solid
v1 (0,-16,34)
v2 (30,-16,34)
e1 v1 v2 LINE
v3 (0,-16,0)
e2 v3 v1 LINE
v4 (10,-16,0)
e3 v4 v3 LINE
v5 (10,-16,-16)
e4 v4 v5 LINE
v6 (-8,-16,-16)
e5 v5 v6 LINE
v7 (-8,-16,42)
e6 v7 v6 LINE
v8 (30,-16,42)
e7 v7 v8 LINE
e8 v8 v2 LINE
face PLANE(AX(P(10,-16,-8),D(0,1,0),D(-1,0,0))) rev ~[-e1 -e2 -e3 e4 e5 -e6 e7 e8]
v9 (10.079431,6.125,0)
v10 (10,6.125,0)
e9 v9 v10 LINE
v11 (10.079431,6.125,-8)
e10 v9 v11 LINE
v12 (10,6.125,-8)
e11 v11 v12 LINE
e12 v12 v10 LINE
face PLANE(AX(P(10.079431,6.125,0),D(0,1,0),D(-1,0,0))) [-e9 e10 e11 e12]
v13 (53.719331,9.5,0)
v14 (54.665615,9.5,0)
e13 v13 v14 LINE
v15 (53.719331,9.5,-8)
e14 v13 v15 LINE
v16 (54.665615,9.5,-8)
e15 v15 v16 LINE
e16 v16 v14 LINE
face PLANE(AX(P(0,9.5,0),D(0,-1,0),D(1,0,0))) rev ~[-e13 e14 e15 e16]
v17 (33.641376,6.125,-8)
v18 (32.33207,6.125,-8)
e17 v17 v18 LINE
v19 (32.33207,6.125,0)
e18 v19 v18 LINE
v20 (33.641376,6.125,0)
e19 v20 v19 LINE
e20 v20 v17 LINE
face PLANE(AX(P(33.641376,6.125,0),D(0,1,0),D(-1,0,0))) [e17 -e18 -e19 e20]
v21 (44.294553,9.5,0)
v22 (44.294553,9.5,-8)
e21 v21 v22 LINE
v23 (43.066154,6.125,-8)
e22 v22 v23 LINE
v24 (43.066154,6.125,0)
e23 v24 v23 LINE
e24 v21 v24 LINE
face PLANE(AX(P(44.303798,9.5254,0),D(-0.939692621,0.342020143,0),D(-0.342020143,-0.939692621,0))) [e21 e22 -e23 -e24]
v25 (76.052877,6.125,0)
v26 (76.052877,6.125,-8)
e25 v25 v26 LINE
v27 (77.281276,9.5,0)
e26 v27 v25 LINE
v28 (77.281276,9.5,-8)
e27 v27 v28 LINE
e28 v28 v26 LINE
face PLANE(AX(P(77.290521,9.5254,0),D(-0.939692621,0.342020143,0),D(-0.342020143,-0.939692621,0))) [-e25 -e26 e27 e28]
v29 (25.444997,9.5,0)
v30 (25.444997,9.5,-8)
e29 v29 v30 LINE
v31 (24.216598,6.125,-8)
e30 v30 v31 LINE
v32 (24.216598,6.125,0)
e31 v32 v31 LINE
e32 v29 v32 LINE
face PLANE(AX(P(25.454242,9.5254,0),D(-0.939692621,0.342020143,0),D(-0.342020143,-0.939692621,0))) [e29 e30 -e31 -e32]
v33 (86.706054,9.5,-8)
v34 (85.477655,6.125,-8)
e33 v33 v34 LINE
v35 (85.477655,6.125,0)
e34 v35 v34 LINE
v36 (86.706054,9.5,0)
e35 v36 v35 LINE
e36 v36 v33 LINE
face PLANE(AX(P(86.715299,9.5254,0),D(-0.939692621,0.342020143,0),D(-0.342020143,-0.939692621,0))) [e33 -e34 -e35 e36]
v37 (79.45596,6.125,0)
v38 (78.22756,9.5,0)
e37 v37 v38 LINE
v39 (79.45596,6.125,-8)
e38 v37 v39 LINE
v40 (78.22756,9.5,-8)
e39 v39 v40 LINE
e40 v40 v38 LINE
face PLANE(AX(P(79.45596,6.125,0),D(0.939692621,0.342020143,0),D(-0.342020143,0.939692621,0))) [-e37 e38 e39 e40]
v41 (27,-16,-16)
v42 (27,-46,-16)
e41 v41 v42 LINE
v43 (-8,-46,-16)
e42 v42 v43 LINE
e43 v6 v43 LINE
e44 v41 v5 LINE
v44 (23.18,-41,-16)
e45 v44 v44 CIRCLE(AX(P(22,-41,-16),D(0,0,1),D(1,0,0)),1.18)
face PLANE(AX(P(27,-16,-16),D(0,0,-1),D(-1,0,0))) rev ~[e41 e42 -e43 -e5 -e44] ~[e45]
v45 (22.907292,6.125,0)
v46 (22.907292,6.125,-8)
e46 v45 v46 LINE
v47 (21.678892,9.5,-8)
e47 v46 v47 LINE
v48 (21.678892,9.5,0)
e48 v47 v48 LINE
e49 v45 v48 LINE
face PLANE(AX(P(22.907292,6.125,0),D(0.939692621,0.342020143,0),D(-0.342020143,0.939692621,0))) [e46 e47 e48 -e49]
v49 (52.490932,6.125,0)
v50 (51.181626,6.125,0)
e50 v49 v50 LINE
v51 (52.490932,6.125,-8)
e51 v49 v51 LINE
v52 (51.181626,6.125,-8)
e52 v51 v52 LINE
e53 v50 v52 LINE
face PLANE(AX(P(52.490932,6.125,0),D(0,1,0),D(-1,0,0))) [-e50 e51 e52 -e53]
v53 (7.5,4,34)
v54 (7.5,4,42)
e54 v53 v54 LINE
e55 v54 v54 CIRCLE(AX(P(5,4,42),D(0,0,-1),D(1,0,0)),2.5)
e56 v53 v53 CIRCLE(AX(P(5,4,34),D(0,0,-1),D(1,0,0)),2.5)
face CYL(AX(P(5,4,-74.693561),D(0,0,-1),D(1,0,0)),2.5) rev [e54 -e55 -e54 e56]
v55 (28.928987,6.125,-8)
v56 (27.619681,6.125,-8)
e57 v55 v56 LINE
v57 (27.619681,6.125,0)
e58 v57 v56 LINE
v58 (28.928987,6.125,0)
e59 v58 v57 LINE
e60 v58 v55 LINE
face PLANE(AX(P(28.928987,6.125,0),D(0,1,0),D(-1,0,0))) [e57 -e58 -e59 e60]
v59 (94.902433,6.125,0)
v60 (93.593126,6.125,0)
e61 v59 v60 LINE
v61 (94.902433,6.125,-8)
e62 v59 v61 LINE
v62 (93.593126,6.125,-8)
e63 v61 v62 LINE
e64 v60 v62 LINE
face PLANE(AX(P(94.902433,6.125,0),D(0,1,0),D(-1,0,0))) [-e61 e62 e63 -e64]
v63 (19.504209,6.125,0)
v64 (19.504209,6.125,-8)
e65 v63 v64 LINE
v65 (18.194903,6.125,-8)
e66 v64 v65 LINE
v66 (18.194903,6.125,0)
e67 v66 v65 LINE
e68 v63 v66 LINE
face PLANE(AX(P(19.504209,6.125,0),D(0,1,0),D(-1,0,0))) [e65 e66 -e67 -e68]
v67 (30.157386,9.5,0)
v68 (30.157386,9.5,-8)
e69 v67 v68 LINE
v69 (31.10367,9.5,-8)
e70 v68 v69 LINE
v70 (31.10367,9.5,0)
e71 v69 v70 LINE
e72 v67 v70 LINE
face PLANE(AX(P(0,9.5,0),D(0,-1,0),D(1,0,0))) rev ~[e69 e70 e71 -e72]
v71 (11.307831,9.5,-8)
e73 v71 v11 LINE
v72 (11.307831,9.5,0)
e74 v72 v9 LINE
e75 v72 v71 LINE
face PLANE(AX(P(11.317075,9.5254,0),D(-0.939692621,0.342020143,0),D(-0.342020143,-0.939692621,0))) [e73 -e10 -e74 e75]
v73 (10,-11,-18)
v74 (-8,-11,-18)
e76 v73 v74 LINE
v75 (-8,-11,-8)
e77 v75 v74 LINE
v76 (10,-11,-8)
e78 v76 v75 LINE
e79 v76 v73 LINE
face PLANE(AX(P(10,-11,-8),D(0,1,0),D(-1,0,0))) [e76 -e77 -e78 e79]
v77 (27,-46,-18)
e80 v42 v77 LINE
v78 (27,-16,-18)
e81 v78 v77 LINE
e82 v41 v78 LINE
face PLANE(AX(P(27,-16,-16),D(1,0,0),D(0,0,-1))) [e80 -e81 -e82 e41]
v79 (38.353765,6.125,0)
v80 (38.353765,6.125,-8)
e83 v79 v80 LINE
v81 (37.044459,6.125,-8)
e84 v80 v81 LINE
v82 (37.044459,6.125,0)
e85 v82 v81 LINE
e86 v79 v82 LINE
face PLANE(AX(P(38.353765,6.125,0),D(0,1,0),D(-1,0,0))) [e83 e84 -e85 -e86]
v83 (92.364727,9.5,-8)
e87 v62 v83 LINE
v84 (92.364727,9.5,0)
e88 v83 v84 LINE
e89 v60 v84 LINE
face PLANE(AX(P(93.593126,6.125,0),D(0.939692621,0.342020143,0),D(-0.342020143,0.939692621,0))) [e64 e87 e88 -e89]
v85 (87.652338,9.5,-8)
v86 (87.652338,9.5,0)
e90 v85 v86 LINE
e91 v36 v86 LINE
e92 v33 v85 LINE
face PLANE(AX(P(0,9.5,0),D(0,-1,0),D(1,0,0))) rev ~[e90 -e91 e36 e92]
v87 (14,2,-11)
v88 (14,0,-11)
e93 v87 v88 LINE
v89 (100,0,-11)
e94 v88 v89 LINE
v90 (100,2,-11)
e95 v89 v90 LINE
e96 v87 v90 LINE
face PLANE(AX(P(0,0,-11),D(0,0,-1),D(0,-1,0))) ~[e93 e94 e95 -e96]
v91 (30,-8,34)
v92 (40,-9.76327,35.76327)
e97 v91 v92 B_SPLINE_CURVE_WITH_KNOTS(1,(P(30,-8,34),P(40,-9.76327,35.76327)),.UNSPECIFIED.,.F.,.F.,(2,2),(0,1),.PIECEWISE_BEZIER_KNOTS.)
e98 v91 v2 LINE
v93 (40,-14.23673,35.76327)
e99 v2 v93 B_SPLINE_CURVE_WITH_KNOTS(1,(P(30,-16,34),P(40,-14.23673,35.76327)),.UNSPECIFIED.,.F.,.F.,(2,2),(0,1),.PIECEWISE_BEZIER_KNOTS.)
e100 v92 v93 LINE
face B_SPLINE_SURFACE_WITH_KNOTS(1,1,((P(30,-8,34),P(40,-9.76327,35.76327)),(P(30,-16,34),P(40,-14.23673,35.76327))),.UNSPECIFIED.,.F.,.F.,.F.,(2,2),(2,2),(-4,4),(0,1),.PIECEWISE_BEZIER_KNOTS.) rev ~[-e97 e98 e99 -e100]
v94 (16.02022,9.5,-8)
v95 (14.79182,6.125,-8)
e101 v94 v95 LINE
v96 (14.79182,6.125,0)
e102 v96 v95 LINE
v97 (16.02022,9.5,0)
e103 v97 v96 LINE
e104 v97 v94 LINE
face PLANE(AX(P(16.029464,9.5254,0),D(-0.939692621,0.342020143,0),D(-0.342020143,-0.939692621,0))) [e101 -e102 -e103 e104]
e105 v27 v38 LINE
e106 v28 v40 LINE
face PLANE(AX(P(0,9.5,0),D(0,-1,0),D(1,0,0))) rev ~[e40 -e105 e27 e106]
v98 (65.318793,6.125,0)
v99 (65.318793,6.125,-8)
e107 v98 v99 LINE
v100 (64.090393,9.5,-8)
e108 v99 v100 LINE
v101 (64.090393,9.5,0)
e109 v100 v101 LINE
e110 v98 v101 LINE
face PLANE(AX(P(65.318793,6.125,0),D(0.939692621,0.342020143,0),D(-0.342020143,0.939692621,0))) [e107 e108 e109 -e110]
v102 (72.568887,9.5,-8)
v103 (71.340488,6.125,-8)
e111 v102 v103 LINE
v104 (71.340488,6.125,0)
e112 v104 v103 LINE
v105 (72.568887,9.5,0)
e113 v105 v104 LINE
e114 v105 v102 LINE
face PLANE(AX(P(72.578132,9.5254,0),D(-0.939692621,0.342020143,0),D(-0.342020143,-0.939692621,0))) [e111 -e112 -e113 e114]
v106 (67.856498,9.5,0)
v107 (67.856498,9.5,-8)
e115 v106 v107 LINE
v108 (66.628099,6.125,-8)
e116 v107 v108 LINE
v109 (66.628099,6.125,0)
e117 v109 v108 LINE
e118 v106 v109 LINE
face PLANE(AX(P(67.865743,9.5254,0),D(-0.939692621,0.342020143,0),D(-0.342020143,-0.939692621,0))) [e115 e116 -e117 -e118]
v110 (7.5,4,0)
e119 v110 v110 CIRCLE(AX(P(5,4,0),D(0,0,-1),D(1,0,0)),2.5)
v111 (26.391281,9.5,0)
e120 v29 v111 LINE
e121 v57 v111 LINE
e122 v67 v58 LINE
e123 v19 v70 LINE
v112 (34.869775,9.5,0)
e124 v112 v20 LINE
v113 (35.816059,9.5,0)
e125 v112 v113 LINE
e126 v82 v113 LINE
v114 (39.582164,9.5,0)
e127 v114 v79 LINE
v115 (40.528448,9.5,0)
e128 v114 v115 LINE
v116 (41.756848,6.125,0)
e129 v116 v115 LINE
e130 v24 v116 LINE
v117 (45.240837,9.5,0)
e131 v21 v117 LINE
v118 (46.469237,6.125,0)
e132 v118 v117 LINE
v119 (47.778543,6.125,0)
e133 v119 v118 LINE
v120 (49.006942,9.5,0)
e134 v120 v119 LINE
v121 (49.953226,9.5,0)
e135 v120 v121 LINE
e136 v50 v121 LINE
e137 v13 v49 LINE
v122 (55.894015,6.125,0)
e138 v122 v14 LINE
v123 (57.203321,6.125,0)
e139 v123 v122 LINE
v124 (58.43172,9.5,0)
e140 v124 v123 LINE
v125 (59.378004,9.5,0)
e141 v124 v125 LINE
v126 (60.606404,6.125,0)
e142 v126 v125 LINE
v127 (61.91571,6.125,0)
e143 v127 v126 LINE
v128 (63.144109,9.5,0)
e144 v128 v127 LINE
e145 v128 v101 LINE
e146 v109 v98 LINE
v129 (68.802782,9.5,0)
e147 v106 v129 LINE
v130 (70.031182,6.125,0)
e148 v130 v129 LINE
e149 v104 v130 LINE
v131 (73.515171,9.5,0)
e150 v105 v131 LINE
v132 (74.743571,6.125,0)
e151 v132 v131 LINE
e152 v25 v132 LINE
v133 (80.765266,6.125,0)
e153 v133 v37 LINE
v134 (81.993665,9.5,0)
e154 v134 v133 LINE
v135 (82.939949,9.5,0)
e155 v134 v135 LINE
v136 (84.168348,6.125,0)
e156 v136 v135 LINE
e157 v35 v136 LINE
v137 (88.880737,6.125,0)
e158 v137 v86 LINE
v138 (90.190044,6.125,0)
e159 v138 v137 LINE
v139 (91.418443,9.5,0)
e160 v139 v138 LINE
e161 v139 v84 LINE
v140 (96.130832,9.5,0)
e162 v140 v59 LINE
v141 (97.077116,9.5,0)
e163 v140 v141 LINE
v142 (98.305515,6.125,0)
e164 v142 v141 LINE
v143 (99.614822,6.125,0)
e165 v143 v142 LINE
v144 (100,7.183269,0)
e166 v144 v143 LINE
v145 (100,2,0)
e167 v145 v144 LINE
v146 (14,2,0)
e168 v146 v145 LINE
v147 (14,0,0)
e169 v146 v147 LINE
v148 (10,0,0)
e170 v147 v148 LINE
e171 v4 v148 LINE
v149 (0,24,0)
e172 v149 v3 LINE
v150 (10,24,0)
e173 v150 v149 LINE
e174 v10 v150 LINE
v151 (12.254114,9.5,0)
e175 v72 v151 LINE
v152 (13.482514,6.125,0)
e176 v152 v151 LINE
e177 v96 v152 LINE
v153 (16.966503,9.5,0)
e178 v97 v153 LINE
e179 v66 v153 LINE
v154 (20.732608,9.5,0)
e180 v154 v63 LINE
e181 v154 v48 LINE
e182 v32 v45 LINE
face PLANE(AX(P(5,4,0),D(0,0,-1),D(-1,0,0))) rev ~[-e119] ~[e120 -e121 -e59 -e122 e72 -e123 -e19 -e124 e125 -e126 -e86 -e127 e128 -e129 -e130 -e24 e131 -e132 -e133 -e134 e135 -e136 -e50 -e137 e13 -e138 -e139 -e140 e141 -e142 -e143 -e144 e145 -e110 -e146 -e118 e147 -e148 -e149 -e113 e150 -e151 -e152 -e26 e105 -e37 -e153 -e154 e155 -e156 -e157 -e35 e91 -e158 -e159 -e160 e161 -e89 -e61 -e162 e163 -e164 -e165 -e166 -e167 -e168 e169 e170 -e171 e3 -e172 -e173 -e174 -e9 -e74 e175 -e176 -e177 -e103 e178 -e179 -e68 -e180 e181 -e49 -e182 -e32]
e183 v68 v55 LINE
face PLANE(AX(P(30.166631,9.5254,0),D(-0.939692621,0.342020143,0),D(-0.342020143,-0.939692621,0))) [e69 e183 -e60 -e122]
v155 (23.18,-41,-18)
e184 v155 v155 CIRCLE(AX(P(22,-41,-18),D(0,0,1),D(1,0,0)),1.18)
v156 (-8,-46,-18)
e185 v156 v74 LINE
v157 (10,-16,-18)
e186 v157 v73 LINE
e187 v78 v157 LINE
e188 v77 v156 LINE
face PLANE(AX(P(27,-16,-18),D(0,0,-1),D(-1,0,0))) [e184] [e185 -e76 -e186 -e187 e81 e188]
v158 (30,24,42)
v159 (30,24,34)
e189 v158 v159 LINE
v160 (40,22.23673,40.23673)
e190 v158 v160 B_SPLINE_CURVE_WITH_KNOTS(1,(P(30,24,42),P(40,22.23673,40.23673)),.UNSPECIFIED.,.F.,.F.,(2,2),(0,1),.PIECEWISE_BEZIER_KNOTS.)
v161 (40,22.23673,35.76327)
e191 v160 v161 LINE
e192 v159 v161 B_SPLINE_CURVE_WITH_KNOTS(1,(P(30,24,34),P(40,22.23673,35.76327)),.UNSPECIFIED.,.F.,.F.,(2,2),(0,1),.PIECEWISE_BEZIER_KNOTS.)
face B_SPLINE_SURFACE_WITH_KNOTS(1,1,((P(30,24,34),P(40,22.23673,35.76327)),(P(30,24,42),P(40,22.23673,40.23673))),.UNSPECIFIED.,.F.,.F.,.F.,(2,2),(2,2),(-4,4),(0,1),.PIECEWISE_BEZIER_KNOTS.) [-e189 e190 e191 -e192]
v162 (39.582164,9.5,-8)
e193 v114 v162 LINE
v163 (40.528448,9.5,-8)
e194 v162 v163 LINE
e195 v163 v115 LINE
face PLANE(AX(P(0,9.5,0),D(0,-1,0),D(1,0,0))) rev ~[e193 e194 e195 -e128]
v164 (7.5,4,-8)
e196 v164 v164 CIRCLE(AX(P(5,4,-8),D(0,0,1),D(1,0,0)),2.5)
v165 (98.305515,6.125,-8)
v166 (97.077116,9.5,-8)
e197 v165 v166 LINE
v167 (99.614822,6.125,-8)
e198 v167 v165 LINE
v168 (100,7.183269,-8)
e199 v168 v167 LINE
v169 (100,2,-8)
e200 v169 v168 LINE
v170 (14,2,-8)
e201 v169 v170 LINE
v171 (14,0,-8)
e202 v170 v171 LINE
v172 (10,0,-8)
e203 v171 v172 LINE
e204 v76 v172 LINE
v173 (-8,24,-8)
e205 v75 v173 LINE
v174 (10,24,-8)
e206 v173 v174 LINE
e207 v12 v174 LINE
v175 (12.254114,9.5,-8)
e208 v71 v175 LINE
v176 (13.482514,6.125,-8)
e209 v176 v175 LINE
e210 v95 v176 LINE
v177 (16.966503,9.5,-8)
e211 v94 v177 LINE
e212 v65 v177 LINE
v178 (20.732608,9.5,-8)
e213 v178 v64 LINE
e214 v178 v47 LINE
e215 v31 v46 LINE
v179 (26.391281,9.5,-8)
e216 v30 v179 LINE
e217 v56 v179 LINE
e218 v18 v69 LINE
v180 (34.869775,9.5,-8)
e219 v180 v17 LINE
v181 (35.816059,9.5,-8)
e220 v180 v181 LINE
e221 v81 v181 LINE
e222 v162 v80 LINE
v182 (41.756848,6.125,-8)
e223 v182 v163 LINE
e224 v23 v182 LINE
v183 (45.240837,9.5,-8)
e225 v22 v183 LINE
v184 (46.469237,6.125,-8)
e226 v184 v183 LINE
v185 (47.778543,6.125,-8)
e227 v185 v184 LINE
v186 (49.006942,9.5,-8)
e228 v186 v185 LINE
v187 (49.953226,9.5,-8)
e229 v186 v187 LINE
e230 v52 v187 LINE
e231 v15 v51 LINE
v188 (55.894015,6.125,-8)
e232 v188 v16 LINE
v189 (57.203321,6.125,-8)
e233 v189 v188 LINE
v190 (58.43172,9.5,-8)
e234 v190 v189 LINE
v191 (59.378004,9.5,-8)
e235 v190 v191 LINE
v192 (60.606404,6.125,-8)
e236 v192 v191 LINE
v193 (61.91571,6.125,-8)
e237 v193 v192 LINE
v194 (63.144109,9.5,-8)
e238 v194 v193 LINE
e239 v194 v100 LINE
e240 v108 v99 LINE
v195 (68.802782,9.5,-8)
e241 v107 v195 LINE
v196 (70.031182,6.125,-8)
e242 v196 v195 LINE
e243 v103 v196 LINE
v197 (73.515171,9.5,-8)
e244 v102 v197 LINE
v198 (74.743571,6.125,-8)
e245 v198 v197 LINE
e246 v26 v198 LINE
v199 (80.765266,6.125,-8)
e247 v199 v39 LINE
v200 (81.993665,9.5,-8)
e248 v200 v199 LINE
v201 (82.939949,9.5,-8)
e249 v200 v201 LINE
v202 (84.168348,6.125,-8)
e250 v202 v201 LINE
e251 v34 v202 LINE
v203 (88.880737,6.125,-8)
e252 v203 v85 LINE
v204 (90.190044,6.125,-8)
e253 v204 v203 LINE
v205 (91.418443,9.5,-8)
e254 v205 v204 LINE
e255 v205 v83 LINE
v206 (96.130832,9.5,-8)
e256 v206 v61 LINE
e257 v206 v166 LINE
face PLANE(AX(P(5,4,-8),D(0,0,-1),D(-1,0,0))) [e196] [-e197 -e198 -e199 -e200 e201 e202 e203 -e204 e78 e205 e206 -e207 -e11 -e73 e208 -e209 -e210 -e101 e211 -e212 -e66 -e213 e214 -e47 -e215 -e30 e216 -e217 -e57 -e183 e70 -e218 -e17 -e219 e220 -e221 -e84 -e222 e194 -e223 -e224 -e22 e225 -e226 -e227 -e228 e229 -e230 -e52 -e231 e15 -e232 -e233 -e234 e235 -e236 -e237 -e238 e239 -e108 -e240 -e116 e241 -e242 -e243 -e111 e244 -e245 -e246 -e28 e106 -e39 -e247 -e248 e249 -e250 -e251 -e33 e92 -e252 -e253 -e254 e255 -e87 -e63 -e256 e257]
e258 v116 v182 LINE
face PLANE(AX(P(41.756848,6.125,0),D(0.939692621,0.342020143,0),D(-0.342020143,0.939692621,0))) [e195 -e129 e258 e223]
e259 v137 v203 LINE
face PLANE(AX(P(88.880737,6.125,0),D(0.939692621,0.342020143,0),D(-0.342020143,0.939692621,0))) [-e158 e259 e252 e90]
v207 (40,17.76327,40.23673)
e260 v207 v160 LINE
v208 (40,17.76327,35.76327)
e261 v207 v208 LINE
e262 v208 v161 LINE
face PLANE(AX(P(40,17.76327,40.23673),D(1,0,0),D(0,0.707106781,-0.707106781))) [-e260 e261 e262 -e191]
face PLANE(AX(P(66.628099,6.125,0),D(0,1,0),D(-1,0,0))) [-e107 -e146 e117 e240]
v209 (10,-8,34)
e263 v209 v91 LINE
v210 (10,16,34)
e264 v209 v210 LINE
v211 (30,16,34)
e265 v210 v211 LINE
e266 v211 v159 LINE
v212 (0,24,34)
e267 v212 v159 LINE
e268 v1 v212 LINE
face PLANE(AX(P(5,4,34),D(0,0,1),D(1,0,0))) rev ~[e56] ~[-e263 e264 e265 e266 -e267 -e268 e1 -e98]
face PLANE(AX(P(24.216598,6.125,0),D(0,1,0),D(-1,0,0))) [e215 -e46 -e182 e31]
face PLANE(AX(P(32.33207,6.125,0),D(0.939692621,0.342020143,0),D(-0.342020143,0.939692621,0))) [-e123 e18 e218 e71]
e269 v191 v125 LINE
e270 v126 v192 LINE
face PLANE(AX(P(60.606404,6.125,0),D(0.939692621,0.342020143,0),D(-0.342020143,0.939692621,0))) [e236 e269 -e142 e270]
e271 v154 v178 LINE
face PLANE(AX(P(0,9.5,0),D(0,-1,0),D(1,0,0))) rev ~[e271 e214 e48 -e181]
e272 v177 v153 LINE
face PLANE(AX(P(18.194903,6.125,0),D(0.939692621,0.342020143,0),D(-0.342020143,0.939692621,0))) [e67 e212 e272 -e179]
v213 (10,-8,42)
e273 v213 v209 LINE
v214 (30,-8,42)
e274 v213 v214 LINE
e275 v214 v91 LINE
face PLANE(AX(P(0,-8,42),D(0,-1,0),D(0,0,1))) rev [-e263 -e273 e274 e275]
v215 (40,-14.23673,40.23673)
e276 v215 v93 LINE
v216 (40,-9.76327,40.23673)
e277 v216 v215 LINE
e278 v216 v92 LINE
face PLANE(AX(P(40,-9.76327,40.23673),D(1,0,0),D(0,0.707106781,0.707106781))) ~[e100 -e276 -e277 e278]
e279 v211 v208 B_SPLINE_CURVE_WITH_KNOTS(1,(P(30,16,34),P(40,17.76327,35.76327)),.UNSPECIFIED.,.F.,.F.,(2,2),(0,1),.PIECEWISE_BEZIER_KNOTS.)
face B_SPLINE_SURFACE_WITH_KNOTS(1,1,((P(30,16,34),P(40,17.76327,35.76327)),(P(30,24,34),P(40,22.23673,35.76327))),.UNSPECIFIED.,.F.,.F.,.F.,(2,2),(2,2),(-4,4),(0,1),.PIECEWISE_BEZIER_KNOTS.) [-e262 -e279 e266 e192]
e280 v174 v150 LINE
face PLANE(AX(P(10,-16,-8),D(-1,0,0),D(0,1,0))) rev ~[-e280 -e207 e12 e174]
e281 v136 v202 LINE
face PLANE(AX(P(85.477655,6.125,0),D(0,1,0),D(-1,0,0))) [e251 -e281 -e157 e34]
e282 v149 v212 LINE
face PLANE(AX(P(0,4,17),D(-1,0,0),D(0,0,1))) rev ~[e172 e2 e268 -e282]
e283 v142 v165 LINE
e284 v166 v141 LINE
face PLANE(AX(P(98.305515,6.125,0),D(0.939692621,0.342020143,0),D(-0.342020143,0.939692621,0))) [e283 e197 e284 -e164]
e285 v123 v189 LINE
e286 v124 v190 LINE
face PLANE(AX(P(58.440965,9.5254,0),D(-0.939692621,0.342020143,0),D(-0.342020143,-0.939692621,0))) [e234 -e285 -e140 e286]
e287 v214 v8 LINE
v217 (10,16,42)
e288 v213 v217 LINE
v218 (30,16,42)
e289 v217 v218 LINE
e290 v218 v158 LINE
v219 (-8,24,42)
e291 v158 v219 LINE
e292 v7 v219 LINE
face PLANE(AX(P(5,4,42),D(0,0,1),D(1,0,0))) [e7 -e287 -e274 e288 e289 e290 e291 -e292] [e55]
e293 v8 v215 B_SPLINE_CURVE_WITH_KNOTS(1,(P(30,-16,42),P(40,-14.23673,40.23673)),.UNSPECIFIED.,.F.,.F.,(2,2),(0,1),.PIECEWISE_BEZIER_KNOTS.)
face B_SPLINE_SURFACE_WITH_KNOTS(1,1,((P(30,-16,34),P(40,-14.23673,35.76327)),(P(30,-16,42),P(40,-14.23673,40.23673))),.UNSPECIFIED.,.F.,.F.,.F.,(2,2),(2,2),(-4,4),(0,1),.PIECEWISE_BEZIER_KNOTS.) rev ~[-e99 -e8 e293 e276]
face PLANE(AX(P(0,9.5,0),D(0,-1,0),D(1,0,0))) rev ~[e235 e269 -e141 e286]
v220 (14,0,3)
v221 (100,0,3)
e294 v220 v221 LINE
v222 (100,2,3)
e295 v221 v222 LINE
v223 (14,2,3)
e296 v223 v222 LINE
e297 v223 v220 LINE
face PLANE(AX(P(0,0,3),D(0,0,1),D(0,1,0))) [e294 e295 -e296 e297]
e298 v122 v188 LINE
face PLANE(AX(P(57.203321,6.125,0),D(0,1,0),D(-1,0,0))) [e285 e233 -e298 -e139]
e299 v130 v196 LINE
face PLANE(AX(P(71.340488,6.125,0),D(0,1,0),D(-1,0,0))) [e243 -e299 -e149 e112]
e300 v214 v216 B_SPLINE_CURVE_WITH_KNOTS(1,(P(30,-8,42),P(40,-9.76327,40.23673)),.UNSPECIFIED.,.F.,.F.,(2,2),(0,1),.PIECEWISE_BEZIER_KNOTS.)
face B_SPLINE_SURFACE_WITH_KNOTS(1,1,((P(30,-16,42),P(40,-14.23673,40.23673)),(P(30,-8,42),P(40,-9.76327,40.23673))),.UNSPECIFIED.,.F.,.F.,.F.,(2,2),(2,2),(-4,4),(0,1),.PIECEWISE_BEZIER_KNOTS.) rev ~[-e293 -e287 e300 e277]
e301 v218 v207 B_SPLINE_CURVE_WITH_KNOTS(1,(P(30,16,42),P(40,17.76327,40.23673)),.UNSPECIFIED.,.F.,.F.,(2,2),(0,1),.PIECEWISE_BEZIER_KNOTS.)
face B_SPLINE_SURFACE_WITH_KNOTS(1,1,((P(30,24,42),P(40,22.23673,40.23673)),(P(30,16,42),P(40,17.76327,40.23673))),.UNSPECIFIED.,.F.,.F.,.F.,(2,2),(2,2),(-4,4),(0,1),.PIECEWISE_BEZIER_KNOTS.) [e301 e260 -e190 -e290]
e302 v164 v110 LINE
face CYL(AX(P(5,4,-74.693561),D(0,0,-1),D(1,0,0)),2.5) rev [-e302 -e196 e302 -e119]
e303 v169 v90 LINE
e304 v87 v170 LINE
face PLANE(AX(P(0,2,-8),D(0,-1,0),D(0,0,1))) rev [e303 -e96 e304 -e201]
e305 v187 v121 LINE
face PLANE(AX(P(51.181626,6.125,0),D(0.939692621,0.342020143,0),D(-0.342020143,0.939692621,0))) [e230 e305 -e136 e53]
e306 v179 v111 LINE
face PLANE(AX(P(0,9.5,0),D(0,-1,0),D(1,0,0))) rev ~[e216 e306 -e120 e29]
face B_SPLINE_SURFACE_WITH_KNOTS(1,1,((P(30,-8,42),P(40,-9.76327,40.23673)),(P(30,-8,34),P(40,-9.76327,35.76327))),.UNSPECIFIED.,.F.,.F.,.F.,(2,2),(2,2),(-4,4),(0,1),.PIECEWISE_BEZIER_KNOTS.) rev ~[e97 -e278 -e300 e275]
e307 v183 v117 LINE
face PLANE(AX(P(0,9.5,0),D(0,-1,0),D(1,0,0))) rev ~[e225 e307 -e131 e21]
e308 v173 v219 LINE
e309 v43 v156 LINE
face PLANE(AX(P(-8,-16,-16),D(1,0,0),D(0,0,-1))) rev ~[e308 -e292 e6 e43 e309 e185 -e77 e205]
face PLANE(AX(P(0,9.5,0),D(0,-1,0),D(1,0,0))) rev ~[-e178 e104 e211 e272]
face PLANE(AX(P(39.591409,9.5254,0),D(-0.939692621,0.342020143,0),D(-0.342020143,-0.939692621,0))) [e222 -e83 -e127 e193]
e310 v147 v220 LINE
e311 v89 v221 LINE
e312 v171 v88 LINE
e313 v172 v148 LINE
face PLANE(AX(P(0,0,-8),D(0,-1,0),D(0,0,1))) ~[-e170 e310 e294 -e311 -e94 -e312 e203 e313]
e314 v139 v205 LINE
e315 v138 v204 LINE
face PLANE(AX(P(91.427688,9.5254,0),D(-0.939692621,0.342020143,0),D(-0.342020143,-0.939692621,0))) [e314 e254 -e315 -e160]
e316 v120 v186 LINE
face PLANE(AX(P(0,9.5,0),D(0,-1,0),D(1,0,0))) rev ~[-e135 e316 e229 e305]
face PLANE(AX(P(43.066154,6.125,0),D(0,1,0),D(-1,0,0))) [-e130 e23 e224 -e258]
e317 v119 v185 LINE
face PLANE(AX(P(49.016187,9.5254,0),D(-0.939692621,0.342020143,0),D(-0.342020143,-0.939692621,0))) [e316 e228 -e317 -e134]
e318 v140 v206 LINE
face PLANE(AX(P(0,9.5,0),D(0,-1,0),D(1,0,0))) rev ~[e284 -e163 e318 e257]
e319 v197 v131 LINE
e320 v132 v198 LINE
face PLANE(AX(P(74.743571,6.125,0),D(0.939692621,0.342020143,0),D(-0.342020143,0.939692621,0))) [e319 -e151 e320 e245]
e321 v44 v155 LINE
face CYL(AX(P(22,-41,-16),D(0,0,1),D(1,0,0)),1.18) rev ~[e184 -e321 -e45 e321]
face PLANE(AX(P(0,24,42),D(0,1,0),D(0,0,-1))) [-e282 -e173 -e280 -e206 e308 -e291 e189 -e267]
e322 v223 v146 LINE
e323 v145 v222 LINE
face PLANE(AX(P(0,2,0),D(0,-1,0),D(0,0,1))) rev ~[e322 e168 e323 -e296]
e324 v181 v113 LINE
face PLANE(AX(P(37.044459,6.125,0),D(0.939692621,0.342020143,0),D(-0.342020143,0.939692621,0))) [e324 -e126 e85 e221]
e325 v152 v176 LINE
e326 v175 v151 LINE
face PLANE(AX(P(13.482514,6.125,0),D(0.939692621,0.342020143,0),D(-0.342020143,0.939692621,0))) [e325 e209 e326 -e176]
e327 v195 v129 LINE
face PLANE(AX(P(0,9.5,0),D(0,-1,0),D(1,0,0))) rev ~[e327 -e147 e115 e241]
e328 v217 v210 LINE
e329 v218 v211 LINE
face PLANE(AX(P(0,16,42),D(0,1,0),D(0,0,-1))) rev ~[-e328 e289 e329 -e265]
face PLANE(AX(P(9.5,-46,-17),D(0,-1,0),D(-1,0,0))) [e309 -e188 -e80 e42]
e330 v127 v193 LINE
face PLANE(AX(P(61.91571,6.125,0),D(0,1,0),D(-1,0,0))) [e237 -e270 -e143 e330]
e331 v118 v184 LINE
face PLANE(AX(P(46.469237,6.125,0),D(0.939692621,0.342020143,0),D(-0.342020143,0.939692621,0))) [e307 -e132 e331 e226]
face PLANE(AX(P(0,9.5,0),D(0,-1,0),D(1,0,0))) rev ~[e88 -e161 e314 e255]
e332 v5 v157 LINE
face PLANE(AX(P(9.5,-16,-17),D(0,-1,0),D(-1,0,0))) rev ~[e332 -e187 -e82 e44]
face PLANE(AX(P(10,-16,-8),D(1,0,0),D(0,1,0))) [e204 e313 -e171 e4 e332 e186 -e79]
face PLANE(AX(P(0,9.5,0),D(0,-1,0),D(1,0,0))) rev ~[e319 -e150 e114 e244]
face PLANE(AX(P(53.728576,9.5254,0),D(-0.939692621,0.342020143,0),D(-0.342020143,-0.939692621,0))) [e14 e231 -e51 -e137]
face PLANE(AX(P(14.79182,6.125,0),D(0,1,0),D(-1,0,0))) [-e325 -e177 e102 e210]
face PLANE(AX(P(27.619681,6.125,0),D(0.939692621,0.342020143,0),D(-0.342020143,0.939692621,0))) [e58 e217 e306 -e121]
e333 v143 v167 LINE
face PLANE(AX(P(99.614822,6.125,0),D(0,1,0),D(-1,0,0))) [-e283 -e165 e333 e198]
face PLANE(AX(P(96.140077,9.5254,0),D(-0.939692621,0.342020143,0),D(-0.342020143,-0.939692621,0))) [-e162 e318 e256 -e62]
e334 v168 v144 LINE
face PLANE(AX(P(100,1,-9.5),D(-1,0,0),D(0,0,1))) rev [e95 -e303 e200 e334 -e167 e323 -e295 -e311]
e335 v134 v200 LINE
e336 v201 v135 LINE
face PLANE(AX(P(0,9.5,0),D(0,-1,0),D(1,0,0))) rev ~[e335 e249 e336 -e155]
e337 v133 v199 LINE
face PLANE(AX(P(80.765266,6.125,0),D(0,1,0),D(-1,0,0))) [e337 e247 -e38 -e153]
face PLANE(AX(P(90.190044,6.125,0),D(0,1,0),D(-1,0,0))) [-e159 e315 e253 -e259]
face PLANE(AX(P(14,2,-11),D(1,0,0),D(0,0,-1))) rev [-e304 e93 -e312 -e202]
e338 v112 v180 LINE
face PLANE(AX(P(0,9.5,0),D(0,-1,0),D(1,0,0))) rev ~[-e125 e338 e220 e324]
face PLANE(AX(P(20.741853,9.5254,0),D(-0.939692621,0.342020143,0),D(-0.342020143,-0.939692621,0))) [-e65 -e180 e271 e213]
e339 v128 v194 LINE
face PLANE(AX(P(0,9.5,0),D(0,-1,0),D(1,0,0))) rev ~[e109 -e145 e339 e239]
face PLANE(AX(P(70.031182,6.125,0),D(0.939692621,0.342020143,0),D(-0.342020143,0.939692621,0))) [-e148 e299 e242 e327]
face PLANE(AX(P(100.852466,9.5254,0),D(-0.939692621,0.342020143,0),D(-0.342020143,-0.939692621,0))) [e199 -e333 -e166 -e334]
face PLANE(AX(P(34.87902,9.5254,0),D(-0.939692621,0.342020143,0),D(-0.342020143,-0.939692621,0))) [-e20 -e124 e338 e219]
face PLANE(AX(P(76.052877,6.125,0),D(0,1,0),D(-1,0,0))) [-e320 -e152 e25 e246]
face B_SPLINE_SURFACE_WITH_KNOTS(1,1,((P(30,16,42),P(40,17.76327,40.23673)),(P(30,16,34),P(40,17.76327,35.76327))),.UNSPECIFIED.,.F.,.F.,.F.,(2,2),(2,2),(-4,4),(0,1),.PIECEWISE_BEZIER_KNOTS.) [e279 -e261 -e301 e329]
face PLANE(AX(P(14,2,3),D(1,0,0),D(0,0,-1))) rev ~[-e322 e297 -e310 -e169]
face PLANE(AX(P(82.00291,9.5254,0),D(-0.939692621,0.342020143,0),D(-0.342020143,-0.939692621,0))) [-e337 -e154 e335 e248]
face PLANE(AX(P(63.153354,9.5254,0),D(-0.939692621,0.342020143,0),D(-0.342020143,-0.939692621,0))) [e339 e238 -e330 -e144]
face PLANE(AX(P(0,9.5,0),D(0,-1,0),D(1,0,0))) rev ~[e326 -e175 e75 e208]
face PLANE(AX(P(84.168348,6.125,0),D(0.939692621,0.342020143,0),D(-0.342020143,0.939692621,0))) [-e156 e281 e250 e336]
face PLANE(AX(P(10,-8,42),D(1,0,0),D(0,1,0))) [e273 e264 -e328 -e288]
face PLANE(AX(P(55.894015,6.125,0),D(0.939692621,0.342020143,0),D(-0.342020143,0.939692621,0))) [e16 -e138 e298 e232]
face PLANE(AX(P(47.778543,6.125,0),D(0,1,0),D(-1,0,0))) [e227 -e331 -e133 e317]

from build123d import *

# Parameters (mm, degrees)
BLANKSKE_W              = 100
BLANKSKE_H              = 9.5
BLANK_DEPTH             = 8
TOOTHCUTSIM_DEPTH       = 101.768298586
TEETHCUTS_COUNT         = 22
TEETHCUTS_PITCH         = 4.712388975
SKETCH1_W               = 3
SKETCH1_H               = 2
BOSS_EXTRUDE1_DEPTH     = 100
SKETCH4_W               = 50
SKETCH4_H               = 40
BOSS_EXTRUDE2_DEPTH     = 8
SKETCH5_W               = 8
SKETCH5_H               = 8
BOSS_EXTRUDE3_DEPTH     = 30
SKETCH6_W               = 8
SKETCH6_H               = 8
BOSS_EXTRUDE4_DEPTH     = 10
BOSS_EXTRUDE4_TAPER     = 10
SKETCH7_W               = 10
SKETCH7_H               = 24
EXTRUDE_THIN1_DEPTH     = 8
SKETCH8_W               = 10
SKETCH8_H               = 40
BOSS_EXTRUDE5_DEPTH     = 8
CUT_EXTRUDE1_REACH      = 112.671
SKETCH9_W               = 14
SKETCH9_H               = 3
CUT_EXTRUDE2_DEPTH      = 116.693560775
CUT_EXTRUDE2_DEPTH_BACK = 116.693560775
SKETCH10_R              = 2.5
SKETCH11_W              = 18
SKETCH11_H              = 5
BOSS_EXTRUDE6_DEPTH     = 10
SKETCH12_W              = 35
SKETCH12_H              = 2
BOSS_EXTRUDE7_DEPTH     = 30
CUT_EXTRUDE3_REACH      = 126.419
SKETCH13_R              = 1.18


with BuildPart() as part:
    # BlankSke → Blank (new body)
    with BuildSketch(Plane.XY):
        with Locations((50, 4.75)):
            Rectangle(BLANKSKE_W, BLANKSKE_H)
    extrude(amount=-BLANK_DEPTH)

    # TooCutSkeSim → ToothCutSim (cut, through all)
    with BuildSketch(Plane.XY):
        Polygon((0.654653055, 6.125), (-0.654653055, 6.125), (-1.892297439, 9.5254), (1.892297439, 9.5254), align=None)
    toothcutsim = extrude(amount=-TOOTHCUTSIM_DEPTH, mode=Mode.SUBTRACT)

    # TeethCuts: ToothCutSim ×22
    with Locations(*[(i * TEETHCUTS_PITCH, 0, 0) for i in range(1, TEETHCUTS_COUNT)]):
        add(toothcutsim, mode=Mode.SUBTRACT)

    # Sketch1 → Boss-Extrude1 (add)
    with BuildSketch(Plane.ZY):
        with Locations((1.5, 1)):
            Rectangle(SKETCH1_W, SKETCH1_H)
    boss_extrude1 = extrude(amount=-BOSS_EXTRUDE1_DEPTH)

    # Mirror1: Boss-Extrude1 across plane
    add(boss_extrude1.mirror(Plane(origin=(0, 0, -4), x_dir=(1, 0, 0), z_dir=(0, 0, -1))))

    # Sketch4 → Boss-Extrude2 (add)
    with BuildSketch(Plane.ZY):
        with Locations((17, 4)):
            Rectangle(SKETCH4_W, SKETCH4_H)
    extrude(amount=BOSS_EXTRUDE2_DEPTH)

    # Sketch5 → Boss-Extrude3 (add)
    with BuildSketch(Plane(origin=(0, 0, 0), x_dir=(0, 0, -1), z_dir=(1, 0, 0))):
        with Locations((-38, 20)):
            Rectangle(SKETCH5_W, SKETCH5_H)
    boss_extrude3 = extrude(amount=BOSS_EXTRUDE3_DEPTH)

    # Mirror2: Boss-Extrude3 across plane
    add(boss_extrude3.mirror(Plane.ZX.offset(4)))

    # Sketch6 → Boss-Extrude4 (add)
    with BuildSketch(Plane(origin=(30, 0, 0), x_dir=(0, 0, -1), z_dir=(1, 0, 0))):
        with Locations((-38, 20)):
            Rectangle(SKETCH6_W, SKETCH6_H)
    boss_extrude4 = extrude(amount=BOSS_EXTRUDE4_DEPTH, taper=BOSS_EXTRUDE4_TAPER)

    # Mirror3: Boss-Extrude4 across plane
    add(boss_extrude4.mirror(Plane.ZX.offset(4)))

    # Sketch7 → Extrude-Thin1 (add)
    with BuildSketch(Plane.XY.offset(42)):
        with Locations((5, 4)):
            Rectangle(SKETCH7_W, SKETCH7_H)
    extrude(amount=-EXTRUDE_THIN1_DEPTH)

    # Sketch8 → Boss-Extrude5 (add)
    with BuildSketch(Plane(origin=(0, 0, -8), x_dir=(-1, 0, 0), z_dir=(0, 0, -1))):
        with Locations((-5, 4)):
            Rectangle(SKETCH8_W, SKETCH8_H)
    extrude(amount=-BOSS_EXTRUDE5_DEPTH)

    # Sketch9 → Cut-Extrude1 (cut, up to next)
    with BuildSketch(Plane(origin=(0, 2, 0), x_dir=(1, 0, 0), z_dir=(0, 1, 0)), mode=Mode.PRIVATE) as cut_extrude1_sk1:
        with Locations((7, -1.5)):
            Rectangle(SKETCH9_W, SKETCH9_H)
    cut_extrude1_tool1 = extrude(cut_extrude1_sk1.sketch, amount=-CUT_EXTRUDE1_REACH, mode=Mode.PRIVATE) & part.part
    cut_extrude1 = cut_extrude1_tool1.solids().sort_by_distance((7, 2, 1.5))[0]
    add(cut_extrude1, mode=Mode.SUBTRACT)

    # Sketch10 → Cut-Extrude2 (cut, two sides: drawn at the far end of the back side and taken through both)
    with BuildSketch(Plane.XY.offset(42).offset(-CUT_EXTRUDE2_DEPTH_BACK)):
        with Locations((5, 4)):
            Circle(SKETCH10_R)
    extrude(amount=CUT_EXTRUDE2_DEPTH + CUT_EXTRUDE2_DEPTH_BACK, mode=Mode.SUBTRACT)

    # Mirror4: Cut-Extrude1 across plane
    add(cut_extrude1.mirror(Plane(origin=(0, 0, -4), x_dir=(1, 0, 0), z_dir=(0, 0, -1))), mode=Mode.SUBTRACT)

    # Sketch11 → Boss-Extrude6 (add)
    with BuildSketch(Plane(origin=(0, 0, -8), x_dir=(-1, 0, 0), z_dir=(0, 0, -1))):
        with Locations((-1, -13.5)):
            Rectangle(SKETCH11_W, SKETCH11_H)
    extrude(amount=BOSS_EXTRUDE6_DEPTH)

    # Sketch12 → Boss-Extrude7 (add)
    with BuildSketch(Plane(origin=(0, -16, 0), x_dir=(-1, 0, 0), z_dir=(0, -1, 0))):
        with Locations((-9.5, 17)):
            Rectangle(SKETCH12_W, SKETCH12_H)
    extrude(amount=BOSS_EXTRUDE7_DEPTH)

    # Sketch13 → Cut-Extrude3 (cut, up to next)
    with BuildSketch(Plane.XY.offset(-16), mode=Mode.PRIVATE) as cut_extrude3_sk1:
        with Locations((22, -41)):
            Circle(SKETCH13_R)
    cut_extrude3_tool1 = extrude(cut_extrude3_sk1.sketch, amount=-CUT_EXTRUDE3_REACH, mode=Mode.PRIVATE) & part.part
    add(cut_extrude3_tool1.solids().sort_by_distance((22, -41, -16))[0], mode=Mode.SUBTRACT)


solid = part.part
